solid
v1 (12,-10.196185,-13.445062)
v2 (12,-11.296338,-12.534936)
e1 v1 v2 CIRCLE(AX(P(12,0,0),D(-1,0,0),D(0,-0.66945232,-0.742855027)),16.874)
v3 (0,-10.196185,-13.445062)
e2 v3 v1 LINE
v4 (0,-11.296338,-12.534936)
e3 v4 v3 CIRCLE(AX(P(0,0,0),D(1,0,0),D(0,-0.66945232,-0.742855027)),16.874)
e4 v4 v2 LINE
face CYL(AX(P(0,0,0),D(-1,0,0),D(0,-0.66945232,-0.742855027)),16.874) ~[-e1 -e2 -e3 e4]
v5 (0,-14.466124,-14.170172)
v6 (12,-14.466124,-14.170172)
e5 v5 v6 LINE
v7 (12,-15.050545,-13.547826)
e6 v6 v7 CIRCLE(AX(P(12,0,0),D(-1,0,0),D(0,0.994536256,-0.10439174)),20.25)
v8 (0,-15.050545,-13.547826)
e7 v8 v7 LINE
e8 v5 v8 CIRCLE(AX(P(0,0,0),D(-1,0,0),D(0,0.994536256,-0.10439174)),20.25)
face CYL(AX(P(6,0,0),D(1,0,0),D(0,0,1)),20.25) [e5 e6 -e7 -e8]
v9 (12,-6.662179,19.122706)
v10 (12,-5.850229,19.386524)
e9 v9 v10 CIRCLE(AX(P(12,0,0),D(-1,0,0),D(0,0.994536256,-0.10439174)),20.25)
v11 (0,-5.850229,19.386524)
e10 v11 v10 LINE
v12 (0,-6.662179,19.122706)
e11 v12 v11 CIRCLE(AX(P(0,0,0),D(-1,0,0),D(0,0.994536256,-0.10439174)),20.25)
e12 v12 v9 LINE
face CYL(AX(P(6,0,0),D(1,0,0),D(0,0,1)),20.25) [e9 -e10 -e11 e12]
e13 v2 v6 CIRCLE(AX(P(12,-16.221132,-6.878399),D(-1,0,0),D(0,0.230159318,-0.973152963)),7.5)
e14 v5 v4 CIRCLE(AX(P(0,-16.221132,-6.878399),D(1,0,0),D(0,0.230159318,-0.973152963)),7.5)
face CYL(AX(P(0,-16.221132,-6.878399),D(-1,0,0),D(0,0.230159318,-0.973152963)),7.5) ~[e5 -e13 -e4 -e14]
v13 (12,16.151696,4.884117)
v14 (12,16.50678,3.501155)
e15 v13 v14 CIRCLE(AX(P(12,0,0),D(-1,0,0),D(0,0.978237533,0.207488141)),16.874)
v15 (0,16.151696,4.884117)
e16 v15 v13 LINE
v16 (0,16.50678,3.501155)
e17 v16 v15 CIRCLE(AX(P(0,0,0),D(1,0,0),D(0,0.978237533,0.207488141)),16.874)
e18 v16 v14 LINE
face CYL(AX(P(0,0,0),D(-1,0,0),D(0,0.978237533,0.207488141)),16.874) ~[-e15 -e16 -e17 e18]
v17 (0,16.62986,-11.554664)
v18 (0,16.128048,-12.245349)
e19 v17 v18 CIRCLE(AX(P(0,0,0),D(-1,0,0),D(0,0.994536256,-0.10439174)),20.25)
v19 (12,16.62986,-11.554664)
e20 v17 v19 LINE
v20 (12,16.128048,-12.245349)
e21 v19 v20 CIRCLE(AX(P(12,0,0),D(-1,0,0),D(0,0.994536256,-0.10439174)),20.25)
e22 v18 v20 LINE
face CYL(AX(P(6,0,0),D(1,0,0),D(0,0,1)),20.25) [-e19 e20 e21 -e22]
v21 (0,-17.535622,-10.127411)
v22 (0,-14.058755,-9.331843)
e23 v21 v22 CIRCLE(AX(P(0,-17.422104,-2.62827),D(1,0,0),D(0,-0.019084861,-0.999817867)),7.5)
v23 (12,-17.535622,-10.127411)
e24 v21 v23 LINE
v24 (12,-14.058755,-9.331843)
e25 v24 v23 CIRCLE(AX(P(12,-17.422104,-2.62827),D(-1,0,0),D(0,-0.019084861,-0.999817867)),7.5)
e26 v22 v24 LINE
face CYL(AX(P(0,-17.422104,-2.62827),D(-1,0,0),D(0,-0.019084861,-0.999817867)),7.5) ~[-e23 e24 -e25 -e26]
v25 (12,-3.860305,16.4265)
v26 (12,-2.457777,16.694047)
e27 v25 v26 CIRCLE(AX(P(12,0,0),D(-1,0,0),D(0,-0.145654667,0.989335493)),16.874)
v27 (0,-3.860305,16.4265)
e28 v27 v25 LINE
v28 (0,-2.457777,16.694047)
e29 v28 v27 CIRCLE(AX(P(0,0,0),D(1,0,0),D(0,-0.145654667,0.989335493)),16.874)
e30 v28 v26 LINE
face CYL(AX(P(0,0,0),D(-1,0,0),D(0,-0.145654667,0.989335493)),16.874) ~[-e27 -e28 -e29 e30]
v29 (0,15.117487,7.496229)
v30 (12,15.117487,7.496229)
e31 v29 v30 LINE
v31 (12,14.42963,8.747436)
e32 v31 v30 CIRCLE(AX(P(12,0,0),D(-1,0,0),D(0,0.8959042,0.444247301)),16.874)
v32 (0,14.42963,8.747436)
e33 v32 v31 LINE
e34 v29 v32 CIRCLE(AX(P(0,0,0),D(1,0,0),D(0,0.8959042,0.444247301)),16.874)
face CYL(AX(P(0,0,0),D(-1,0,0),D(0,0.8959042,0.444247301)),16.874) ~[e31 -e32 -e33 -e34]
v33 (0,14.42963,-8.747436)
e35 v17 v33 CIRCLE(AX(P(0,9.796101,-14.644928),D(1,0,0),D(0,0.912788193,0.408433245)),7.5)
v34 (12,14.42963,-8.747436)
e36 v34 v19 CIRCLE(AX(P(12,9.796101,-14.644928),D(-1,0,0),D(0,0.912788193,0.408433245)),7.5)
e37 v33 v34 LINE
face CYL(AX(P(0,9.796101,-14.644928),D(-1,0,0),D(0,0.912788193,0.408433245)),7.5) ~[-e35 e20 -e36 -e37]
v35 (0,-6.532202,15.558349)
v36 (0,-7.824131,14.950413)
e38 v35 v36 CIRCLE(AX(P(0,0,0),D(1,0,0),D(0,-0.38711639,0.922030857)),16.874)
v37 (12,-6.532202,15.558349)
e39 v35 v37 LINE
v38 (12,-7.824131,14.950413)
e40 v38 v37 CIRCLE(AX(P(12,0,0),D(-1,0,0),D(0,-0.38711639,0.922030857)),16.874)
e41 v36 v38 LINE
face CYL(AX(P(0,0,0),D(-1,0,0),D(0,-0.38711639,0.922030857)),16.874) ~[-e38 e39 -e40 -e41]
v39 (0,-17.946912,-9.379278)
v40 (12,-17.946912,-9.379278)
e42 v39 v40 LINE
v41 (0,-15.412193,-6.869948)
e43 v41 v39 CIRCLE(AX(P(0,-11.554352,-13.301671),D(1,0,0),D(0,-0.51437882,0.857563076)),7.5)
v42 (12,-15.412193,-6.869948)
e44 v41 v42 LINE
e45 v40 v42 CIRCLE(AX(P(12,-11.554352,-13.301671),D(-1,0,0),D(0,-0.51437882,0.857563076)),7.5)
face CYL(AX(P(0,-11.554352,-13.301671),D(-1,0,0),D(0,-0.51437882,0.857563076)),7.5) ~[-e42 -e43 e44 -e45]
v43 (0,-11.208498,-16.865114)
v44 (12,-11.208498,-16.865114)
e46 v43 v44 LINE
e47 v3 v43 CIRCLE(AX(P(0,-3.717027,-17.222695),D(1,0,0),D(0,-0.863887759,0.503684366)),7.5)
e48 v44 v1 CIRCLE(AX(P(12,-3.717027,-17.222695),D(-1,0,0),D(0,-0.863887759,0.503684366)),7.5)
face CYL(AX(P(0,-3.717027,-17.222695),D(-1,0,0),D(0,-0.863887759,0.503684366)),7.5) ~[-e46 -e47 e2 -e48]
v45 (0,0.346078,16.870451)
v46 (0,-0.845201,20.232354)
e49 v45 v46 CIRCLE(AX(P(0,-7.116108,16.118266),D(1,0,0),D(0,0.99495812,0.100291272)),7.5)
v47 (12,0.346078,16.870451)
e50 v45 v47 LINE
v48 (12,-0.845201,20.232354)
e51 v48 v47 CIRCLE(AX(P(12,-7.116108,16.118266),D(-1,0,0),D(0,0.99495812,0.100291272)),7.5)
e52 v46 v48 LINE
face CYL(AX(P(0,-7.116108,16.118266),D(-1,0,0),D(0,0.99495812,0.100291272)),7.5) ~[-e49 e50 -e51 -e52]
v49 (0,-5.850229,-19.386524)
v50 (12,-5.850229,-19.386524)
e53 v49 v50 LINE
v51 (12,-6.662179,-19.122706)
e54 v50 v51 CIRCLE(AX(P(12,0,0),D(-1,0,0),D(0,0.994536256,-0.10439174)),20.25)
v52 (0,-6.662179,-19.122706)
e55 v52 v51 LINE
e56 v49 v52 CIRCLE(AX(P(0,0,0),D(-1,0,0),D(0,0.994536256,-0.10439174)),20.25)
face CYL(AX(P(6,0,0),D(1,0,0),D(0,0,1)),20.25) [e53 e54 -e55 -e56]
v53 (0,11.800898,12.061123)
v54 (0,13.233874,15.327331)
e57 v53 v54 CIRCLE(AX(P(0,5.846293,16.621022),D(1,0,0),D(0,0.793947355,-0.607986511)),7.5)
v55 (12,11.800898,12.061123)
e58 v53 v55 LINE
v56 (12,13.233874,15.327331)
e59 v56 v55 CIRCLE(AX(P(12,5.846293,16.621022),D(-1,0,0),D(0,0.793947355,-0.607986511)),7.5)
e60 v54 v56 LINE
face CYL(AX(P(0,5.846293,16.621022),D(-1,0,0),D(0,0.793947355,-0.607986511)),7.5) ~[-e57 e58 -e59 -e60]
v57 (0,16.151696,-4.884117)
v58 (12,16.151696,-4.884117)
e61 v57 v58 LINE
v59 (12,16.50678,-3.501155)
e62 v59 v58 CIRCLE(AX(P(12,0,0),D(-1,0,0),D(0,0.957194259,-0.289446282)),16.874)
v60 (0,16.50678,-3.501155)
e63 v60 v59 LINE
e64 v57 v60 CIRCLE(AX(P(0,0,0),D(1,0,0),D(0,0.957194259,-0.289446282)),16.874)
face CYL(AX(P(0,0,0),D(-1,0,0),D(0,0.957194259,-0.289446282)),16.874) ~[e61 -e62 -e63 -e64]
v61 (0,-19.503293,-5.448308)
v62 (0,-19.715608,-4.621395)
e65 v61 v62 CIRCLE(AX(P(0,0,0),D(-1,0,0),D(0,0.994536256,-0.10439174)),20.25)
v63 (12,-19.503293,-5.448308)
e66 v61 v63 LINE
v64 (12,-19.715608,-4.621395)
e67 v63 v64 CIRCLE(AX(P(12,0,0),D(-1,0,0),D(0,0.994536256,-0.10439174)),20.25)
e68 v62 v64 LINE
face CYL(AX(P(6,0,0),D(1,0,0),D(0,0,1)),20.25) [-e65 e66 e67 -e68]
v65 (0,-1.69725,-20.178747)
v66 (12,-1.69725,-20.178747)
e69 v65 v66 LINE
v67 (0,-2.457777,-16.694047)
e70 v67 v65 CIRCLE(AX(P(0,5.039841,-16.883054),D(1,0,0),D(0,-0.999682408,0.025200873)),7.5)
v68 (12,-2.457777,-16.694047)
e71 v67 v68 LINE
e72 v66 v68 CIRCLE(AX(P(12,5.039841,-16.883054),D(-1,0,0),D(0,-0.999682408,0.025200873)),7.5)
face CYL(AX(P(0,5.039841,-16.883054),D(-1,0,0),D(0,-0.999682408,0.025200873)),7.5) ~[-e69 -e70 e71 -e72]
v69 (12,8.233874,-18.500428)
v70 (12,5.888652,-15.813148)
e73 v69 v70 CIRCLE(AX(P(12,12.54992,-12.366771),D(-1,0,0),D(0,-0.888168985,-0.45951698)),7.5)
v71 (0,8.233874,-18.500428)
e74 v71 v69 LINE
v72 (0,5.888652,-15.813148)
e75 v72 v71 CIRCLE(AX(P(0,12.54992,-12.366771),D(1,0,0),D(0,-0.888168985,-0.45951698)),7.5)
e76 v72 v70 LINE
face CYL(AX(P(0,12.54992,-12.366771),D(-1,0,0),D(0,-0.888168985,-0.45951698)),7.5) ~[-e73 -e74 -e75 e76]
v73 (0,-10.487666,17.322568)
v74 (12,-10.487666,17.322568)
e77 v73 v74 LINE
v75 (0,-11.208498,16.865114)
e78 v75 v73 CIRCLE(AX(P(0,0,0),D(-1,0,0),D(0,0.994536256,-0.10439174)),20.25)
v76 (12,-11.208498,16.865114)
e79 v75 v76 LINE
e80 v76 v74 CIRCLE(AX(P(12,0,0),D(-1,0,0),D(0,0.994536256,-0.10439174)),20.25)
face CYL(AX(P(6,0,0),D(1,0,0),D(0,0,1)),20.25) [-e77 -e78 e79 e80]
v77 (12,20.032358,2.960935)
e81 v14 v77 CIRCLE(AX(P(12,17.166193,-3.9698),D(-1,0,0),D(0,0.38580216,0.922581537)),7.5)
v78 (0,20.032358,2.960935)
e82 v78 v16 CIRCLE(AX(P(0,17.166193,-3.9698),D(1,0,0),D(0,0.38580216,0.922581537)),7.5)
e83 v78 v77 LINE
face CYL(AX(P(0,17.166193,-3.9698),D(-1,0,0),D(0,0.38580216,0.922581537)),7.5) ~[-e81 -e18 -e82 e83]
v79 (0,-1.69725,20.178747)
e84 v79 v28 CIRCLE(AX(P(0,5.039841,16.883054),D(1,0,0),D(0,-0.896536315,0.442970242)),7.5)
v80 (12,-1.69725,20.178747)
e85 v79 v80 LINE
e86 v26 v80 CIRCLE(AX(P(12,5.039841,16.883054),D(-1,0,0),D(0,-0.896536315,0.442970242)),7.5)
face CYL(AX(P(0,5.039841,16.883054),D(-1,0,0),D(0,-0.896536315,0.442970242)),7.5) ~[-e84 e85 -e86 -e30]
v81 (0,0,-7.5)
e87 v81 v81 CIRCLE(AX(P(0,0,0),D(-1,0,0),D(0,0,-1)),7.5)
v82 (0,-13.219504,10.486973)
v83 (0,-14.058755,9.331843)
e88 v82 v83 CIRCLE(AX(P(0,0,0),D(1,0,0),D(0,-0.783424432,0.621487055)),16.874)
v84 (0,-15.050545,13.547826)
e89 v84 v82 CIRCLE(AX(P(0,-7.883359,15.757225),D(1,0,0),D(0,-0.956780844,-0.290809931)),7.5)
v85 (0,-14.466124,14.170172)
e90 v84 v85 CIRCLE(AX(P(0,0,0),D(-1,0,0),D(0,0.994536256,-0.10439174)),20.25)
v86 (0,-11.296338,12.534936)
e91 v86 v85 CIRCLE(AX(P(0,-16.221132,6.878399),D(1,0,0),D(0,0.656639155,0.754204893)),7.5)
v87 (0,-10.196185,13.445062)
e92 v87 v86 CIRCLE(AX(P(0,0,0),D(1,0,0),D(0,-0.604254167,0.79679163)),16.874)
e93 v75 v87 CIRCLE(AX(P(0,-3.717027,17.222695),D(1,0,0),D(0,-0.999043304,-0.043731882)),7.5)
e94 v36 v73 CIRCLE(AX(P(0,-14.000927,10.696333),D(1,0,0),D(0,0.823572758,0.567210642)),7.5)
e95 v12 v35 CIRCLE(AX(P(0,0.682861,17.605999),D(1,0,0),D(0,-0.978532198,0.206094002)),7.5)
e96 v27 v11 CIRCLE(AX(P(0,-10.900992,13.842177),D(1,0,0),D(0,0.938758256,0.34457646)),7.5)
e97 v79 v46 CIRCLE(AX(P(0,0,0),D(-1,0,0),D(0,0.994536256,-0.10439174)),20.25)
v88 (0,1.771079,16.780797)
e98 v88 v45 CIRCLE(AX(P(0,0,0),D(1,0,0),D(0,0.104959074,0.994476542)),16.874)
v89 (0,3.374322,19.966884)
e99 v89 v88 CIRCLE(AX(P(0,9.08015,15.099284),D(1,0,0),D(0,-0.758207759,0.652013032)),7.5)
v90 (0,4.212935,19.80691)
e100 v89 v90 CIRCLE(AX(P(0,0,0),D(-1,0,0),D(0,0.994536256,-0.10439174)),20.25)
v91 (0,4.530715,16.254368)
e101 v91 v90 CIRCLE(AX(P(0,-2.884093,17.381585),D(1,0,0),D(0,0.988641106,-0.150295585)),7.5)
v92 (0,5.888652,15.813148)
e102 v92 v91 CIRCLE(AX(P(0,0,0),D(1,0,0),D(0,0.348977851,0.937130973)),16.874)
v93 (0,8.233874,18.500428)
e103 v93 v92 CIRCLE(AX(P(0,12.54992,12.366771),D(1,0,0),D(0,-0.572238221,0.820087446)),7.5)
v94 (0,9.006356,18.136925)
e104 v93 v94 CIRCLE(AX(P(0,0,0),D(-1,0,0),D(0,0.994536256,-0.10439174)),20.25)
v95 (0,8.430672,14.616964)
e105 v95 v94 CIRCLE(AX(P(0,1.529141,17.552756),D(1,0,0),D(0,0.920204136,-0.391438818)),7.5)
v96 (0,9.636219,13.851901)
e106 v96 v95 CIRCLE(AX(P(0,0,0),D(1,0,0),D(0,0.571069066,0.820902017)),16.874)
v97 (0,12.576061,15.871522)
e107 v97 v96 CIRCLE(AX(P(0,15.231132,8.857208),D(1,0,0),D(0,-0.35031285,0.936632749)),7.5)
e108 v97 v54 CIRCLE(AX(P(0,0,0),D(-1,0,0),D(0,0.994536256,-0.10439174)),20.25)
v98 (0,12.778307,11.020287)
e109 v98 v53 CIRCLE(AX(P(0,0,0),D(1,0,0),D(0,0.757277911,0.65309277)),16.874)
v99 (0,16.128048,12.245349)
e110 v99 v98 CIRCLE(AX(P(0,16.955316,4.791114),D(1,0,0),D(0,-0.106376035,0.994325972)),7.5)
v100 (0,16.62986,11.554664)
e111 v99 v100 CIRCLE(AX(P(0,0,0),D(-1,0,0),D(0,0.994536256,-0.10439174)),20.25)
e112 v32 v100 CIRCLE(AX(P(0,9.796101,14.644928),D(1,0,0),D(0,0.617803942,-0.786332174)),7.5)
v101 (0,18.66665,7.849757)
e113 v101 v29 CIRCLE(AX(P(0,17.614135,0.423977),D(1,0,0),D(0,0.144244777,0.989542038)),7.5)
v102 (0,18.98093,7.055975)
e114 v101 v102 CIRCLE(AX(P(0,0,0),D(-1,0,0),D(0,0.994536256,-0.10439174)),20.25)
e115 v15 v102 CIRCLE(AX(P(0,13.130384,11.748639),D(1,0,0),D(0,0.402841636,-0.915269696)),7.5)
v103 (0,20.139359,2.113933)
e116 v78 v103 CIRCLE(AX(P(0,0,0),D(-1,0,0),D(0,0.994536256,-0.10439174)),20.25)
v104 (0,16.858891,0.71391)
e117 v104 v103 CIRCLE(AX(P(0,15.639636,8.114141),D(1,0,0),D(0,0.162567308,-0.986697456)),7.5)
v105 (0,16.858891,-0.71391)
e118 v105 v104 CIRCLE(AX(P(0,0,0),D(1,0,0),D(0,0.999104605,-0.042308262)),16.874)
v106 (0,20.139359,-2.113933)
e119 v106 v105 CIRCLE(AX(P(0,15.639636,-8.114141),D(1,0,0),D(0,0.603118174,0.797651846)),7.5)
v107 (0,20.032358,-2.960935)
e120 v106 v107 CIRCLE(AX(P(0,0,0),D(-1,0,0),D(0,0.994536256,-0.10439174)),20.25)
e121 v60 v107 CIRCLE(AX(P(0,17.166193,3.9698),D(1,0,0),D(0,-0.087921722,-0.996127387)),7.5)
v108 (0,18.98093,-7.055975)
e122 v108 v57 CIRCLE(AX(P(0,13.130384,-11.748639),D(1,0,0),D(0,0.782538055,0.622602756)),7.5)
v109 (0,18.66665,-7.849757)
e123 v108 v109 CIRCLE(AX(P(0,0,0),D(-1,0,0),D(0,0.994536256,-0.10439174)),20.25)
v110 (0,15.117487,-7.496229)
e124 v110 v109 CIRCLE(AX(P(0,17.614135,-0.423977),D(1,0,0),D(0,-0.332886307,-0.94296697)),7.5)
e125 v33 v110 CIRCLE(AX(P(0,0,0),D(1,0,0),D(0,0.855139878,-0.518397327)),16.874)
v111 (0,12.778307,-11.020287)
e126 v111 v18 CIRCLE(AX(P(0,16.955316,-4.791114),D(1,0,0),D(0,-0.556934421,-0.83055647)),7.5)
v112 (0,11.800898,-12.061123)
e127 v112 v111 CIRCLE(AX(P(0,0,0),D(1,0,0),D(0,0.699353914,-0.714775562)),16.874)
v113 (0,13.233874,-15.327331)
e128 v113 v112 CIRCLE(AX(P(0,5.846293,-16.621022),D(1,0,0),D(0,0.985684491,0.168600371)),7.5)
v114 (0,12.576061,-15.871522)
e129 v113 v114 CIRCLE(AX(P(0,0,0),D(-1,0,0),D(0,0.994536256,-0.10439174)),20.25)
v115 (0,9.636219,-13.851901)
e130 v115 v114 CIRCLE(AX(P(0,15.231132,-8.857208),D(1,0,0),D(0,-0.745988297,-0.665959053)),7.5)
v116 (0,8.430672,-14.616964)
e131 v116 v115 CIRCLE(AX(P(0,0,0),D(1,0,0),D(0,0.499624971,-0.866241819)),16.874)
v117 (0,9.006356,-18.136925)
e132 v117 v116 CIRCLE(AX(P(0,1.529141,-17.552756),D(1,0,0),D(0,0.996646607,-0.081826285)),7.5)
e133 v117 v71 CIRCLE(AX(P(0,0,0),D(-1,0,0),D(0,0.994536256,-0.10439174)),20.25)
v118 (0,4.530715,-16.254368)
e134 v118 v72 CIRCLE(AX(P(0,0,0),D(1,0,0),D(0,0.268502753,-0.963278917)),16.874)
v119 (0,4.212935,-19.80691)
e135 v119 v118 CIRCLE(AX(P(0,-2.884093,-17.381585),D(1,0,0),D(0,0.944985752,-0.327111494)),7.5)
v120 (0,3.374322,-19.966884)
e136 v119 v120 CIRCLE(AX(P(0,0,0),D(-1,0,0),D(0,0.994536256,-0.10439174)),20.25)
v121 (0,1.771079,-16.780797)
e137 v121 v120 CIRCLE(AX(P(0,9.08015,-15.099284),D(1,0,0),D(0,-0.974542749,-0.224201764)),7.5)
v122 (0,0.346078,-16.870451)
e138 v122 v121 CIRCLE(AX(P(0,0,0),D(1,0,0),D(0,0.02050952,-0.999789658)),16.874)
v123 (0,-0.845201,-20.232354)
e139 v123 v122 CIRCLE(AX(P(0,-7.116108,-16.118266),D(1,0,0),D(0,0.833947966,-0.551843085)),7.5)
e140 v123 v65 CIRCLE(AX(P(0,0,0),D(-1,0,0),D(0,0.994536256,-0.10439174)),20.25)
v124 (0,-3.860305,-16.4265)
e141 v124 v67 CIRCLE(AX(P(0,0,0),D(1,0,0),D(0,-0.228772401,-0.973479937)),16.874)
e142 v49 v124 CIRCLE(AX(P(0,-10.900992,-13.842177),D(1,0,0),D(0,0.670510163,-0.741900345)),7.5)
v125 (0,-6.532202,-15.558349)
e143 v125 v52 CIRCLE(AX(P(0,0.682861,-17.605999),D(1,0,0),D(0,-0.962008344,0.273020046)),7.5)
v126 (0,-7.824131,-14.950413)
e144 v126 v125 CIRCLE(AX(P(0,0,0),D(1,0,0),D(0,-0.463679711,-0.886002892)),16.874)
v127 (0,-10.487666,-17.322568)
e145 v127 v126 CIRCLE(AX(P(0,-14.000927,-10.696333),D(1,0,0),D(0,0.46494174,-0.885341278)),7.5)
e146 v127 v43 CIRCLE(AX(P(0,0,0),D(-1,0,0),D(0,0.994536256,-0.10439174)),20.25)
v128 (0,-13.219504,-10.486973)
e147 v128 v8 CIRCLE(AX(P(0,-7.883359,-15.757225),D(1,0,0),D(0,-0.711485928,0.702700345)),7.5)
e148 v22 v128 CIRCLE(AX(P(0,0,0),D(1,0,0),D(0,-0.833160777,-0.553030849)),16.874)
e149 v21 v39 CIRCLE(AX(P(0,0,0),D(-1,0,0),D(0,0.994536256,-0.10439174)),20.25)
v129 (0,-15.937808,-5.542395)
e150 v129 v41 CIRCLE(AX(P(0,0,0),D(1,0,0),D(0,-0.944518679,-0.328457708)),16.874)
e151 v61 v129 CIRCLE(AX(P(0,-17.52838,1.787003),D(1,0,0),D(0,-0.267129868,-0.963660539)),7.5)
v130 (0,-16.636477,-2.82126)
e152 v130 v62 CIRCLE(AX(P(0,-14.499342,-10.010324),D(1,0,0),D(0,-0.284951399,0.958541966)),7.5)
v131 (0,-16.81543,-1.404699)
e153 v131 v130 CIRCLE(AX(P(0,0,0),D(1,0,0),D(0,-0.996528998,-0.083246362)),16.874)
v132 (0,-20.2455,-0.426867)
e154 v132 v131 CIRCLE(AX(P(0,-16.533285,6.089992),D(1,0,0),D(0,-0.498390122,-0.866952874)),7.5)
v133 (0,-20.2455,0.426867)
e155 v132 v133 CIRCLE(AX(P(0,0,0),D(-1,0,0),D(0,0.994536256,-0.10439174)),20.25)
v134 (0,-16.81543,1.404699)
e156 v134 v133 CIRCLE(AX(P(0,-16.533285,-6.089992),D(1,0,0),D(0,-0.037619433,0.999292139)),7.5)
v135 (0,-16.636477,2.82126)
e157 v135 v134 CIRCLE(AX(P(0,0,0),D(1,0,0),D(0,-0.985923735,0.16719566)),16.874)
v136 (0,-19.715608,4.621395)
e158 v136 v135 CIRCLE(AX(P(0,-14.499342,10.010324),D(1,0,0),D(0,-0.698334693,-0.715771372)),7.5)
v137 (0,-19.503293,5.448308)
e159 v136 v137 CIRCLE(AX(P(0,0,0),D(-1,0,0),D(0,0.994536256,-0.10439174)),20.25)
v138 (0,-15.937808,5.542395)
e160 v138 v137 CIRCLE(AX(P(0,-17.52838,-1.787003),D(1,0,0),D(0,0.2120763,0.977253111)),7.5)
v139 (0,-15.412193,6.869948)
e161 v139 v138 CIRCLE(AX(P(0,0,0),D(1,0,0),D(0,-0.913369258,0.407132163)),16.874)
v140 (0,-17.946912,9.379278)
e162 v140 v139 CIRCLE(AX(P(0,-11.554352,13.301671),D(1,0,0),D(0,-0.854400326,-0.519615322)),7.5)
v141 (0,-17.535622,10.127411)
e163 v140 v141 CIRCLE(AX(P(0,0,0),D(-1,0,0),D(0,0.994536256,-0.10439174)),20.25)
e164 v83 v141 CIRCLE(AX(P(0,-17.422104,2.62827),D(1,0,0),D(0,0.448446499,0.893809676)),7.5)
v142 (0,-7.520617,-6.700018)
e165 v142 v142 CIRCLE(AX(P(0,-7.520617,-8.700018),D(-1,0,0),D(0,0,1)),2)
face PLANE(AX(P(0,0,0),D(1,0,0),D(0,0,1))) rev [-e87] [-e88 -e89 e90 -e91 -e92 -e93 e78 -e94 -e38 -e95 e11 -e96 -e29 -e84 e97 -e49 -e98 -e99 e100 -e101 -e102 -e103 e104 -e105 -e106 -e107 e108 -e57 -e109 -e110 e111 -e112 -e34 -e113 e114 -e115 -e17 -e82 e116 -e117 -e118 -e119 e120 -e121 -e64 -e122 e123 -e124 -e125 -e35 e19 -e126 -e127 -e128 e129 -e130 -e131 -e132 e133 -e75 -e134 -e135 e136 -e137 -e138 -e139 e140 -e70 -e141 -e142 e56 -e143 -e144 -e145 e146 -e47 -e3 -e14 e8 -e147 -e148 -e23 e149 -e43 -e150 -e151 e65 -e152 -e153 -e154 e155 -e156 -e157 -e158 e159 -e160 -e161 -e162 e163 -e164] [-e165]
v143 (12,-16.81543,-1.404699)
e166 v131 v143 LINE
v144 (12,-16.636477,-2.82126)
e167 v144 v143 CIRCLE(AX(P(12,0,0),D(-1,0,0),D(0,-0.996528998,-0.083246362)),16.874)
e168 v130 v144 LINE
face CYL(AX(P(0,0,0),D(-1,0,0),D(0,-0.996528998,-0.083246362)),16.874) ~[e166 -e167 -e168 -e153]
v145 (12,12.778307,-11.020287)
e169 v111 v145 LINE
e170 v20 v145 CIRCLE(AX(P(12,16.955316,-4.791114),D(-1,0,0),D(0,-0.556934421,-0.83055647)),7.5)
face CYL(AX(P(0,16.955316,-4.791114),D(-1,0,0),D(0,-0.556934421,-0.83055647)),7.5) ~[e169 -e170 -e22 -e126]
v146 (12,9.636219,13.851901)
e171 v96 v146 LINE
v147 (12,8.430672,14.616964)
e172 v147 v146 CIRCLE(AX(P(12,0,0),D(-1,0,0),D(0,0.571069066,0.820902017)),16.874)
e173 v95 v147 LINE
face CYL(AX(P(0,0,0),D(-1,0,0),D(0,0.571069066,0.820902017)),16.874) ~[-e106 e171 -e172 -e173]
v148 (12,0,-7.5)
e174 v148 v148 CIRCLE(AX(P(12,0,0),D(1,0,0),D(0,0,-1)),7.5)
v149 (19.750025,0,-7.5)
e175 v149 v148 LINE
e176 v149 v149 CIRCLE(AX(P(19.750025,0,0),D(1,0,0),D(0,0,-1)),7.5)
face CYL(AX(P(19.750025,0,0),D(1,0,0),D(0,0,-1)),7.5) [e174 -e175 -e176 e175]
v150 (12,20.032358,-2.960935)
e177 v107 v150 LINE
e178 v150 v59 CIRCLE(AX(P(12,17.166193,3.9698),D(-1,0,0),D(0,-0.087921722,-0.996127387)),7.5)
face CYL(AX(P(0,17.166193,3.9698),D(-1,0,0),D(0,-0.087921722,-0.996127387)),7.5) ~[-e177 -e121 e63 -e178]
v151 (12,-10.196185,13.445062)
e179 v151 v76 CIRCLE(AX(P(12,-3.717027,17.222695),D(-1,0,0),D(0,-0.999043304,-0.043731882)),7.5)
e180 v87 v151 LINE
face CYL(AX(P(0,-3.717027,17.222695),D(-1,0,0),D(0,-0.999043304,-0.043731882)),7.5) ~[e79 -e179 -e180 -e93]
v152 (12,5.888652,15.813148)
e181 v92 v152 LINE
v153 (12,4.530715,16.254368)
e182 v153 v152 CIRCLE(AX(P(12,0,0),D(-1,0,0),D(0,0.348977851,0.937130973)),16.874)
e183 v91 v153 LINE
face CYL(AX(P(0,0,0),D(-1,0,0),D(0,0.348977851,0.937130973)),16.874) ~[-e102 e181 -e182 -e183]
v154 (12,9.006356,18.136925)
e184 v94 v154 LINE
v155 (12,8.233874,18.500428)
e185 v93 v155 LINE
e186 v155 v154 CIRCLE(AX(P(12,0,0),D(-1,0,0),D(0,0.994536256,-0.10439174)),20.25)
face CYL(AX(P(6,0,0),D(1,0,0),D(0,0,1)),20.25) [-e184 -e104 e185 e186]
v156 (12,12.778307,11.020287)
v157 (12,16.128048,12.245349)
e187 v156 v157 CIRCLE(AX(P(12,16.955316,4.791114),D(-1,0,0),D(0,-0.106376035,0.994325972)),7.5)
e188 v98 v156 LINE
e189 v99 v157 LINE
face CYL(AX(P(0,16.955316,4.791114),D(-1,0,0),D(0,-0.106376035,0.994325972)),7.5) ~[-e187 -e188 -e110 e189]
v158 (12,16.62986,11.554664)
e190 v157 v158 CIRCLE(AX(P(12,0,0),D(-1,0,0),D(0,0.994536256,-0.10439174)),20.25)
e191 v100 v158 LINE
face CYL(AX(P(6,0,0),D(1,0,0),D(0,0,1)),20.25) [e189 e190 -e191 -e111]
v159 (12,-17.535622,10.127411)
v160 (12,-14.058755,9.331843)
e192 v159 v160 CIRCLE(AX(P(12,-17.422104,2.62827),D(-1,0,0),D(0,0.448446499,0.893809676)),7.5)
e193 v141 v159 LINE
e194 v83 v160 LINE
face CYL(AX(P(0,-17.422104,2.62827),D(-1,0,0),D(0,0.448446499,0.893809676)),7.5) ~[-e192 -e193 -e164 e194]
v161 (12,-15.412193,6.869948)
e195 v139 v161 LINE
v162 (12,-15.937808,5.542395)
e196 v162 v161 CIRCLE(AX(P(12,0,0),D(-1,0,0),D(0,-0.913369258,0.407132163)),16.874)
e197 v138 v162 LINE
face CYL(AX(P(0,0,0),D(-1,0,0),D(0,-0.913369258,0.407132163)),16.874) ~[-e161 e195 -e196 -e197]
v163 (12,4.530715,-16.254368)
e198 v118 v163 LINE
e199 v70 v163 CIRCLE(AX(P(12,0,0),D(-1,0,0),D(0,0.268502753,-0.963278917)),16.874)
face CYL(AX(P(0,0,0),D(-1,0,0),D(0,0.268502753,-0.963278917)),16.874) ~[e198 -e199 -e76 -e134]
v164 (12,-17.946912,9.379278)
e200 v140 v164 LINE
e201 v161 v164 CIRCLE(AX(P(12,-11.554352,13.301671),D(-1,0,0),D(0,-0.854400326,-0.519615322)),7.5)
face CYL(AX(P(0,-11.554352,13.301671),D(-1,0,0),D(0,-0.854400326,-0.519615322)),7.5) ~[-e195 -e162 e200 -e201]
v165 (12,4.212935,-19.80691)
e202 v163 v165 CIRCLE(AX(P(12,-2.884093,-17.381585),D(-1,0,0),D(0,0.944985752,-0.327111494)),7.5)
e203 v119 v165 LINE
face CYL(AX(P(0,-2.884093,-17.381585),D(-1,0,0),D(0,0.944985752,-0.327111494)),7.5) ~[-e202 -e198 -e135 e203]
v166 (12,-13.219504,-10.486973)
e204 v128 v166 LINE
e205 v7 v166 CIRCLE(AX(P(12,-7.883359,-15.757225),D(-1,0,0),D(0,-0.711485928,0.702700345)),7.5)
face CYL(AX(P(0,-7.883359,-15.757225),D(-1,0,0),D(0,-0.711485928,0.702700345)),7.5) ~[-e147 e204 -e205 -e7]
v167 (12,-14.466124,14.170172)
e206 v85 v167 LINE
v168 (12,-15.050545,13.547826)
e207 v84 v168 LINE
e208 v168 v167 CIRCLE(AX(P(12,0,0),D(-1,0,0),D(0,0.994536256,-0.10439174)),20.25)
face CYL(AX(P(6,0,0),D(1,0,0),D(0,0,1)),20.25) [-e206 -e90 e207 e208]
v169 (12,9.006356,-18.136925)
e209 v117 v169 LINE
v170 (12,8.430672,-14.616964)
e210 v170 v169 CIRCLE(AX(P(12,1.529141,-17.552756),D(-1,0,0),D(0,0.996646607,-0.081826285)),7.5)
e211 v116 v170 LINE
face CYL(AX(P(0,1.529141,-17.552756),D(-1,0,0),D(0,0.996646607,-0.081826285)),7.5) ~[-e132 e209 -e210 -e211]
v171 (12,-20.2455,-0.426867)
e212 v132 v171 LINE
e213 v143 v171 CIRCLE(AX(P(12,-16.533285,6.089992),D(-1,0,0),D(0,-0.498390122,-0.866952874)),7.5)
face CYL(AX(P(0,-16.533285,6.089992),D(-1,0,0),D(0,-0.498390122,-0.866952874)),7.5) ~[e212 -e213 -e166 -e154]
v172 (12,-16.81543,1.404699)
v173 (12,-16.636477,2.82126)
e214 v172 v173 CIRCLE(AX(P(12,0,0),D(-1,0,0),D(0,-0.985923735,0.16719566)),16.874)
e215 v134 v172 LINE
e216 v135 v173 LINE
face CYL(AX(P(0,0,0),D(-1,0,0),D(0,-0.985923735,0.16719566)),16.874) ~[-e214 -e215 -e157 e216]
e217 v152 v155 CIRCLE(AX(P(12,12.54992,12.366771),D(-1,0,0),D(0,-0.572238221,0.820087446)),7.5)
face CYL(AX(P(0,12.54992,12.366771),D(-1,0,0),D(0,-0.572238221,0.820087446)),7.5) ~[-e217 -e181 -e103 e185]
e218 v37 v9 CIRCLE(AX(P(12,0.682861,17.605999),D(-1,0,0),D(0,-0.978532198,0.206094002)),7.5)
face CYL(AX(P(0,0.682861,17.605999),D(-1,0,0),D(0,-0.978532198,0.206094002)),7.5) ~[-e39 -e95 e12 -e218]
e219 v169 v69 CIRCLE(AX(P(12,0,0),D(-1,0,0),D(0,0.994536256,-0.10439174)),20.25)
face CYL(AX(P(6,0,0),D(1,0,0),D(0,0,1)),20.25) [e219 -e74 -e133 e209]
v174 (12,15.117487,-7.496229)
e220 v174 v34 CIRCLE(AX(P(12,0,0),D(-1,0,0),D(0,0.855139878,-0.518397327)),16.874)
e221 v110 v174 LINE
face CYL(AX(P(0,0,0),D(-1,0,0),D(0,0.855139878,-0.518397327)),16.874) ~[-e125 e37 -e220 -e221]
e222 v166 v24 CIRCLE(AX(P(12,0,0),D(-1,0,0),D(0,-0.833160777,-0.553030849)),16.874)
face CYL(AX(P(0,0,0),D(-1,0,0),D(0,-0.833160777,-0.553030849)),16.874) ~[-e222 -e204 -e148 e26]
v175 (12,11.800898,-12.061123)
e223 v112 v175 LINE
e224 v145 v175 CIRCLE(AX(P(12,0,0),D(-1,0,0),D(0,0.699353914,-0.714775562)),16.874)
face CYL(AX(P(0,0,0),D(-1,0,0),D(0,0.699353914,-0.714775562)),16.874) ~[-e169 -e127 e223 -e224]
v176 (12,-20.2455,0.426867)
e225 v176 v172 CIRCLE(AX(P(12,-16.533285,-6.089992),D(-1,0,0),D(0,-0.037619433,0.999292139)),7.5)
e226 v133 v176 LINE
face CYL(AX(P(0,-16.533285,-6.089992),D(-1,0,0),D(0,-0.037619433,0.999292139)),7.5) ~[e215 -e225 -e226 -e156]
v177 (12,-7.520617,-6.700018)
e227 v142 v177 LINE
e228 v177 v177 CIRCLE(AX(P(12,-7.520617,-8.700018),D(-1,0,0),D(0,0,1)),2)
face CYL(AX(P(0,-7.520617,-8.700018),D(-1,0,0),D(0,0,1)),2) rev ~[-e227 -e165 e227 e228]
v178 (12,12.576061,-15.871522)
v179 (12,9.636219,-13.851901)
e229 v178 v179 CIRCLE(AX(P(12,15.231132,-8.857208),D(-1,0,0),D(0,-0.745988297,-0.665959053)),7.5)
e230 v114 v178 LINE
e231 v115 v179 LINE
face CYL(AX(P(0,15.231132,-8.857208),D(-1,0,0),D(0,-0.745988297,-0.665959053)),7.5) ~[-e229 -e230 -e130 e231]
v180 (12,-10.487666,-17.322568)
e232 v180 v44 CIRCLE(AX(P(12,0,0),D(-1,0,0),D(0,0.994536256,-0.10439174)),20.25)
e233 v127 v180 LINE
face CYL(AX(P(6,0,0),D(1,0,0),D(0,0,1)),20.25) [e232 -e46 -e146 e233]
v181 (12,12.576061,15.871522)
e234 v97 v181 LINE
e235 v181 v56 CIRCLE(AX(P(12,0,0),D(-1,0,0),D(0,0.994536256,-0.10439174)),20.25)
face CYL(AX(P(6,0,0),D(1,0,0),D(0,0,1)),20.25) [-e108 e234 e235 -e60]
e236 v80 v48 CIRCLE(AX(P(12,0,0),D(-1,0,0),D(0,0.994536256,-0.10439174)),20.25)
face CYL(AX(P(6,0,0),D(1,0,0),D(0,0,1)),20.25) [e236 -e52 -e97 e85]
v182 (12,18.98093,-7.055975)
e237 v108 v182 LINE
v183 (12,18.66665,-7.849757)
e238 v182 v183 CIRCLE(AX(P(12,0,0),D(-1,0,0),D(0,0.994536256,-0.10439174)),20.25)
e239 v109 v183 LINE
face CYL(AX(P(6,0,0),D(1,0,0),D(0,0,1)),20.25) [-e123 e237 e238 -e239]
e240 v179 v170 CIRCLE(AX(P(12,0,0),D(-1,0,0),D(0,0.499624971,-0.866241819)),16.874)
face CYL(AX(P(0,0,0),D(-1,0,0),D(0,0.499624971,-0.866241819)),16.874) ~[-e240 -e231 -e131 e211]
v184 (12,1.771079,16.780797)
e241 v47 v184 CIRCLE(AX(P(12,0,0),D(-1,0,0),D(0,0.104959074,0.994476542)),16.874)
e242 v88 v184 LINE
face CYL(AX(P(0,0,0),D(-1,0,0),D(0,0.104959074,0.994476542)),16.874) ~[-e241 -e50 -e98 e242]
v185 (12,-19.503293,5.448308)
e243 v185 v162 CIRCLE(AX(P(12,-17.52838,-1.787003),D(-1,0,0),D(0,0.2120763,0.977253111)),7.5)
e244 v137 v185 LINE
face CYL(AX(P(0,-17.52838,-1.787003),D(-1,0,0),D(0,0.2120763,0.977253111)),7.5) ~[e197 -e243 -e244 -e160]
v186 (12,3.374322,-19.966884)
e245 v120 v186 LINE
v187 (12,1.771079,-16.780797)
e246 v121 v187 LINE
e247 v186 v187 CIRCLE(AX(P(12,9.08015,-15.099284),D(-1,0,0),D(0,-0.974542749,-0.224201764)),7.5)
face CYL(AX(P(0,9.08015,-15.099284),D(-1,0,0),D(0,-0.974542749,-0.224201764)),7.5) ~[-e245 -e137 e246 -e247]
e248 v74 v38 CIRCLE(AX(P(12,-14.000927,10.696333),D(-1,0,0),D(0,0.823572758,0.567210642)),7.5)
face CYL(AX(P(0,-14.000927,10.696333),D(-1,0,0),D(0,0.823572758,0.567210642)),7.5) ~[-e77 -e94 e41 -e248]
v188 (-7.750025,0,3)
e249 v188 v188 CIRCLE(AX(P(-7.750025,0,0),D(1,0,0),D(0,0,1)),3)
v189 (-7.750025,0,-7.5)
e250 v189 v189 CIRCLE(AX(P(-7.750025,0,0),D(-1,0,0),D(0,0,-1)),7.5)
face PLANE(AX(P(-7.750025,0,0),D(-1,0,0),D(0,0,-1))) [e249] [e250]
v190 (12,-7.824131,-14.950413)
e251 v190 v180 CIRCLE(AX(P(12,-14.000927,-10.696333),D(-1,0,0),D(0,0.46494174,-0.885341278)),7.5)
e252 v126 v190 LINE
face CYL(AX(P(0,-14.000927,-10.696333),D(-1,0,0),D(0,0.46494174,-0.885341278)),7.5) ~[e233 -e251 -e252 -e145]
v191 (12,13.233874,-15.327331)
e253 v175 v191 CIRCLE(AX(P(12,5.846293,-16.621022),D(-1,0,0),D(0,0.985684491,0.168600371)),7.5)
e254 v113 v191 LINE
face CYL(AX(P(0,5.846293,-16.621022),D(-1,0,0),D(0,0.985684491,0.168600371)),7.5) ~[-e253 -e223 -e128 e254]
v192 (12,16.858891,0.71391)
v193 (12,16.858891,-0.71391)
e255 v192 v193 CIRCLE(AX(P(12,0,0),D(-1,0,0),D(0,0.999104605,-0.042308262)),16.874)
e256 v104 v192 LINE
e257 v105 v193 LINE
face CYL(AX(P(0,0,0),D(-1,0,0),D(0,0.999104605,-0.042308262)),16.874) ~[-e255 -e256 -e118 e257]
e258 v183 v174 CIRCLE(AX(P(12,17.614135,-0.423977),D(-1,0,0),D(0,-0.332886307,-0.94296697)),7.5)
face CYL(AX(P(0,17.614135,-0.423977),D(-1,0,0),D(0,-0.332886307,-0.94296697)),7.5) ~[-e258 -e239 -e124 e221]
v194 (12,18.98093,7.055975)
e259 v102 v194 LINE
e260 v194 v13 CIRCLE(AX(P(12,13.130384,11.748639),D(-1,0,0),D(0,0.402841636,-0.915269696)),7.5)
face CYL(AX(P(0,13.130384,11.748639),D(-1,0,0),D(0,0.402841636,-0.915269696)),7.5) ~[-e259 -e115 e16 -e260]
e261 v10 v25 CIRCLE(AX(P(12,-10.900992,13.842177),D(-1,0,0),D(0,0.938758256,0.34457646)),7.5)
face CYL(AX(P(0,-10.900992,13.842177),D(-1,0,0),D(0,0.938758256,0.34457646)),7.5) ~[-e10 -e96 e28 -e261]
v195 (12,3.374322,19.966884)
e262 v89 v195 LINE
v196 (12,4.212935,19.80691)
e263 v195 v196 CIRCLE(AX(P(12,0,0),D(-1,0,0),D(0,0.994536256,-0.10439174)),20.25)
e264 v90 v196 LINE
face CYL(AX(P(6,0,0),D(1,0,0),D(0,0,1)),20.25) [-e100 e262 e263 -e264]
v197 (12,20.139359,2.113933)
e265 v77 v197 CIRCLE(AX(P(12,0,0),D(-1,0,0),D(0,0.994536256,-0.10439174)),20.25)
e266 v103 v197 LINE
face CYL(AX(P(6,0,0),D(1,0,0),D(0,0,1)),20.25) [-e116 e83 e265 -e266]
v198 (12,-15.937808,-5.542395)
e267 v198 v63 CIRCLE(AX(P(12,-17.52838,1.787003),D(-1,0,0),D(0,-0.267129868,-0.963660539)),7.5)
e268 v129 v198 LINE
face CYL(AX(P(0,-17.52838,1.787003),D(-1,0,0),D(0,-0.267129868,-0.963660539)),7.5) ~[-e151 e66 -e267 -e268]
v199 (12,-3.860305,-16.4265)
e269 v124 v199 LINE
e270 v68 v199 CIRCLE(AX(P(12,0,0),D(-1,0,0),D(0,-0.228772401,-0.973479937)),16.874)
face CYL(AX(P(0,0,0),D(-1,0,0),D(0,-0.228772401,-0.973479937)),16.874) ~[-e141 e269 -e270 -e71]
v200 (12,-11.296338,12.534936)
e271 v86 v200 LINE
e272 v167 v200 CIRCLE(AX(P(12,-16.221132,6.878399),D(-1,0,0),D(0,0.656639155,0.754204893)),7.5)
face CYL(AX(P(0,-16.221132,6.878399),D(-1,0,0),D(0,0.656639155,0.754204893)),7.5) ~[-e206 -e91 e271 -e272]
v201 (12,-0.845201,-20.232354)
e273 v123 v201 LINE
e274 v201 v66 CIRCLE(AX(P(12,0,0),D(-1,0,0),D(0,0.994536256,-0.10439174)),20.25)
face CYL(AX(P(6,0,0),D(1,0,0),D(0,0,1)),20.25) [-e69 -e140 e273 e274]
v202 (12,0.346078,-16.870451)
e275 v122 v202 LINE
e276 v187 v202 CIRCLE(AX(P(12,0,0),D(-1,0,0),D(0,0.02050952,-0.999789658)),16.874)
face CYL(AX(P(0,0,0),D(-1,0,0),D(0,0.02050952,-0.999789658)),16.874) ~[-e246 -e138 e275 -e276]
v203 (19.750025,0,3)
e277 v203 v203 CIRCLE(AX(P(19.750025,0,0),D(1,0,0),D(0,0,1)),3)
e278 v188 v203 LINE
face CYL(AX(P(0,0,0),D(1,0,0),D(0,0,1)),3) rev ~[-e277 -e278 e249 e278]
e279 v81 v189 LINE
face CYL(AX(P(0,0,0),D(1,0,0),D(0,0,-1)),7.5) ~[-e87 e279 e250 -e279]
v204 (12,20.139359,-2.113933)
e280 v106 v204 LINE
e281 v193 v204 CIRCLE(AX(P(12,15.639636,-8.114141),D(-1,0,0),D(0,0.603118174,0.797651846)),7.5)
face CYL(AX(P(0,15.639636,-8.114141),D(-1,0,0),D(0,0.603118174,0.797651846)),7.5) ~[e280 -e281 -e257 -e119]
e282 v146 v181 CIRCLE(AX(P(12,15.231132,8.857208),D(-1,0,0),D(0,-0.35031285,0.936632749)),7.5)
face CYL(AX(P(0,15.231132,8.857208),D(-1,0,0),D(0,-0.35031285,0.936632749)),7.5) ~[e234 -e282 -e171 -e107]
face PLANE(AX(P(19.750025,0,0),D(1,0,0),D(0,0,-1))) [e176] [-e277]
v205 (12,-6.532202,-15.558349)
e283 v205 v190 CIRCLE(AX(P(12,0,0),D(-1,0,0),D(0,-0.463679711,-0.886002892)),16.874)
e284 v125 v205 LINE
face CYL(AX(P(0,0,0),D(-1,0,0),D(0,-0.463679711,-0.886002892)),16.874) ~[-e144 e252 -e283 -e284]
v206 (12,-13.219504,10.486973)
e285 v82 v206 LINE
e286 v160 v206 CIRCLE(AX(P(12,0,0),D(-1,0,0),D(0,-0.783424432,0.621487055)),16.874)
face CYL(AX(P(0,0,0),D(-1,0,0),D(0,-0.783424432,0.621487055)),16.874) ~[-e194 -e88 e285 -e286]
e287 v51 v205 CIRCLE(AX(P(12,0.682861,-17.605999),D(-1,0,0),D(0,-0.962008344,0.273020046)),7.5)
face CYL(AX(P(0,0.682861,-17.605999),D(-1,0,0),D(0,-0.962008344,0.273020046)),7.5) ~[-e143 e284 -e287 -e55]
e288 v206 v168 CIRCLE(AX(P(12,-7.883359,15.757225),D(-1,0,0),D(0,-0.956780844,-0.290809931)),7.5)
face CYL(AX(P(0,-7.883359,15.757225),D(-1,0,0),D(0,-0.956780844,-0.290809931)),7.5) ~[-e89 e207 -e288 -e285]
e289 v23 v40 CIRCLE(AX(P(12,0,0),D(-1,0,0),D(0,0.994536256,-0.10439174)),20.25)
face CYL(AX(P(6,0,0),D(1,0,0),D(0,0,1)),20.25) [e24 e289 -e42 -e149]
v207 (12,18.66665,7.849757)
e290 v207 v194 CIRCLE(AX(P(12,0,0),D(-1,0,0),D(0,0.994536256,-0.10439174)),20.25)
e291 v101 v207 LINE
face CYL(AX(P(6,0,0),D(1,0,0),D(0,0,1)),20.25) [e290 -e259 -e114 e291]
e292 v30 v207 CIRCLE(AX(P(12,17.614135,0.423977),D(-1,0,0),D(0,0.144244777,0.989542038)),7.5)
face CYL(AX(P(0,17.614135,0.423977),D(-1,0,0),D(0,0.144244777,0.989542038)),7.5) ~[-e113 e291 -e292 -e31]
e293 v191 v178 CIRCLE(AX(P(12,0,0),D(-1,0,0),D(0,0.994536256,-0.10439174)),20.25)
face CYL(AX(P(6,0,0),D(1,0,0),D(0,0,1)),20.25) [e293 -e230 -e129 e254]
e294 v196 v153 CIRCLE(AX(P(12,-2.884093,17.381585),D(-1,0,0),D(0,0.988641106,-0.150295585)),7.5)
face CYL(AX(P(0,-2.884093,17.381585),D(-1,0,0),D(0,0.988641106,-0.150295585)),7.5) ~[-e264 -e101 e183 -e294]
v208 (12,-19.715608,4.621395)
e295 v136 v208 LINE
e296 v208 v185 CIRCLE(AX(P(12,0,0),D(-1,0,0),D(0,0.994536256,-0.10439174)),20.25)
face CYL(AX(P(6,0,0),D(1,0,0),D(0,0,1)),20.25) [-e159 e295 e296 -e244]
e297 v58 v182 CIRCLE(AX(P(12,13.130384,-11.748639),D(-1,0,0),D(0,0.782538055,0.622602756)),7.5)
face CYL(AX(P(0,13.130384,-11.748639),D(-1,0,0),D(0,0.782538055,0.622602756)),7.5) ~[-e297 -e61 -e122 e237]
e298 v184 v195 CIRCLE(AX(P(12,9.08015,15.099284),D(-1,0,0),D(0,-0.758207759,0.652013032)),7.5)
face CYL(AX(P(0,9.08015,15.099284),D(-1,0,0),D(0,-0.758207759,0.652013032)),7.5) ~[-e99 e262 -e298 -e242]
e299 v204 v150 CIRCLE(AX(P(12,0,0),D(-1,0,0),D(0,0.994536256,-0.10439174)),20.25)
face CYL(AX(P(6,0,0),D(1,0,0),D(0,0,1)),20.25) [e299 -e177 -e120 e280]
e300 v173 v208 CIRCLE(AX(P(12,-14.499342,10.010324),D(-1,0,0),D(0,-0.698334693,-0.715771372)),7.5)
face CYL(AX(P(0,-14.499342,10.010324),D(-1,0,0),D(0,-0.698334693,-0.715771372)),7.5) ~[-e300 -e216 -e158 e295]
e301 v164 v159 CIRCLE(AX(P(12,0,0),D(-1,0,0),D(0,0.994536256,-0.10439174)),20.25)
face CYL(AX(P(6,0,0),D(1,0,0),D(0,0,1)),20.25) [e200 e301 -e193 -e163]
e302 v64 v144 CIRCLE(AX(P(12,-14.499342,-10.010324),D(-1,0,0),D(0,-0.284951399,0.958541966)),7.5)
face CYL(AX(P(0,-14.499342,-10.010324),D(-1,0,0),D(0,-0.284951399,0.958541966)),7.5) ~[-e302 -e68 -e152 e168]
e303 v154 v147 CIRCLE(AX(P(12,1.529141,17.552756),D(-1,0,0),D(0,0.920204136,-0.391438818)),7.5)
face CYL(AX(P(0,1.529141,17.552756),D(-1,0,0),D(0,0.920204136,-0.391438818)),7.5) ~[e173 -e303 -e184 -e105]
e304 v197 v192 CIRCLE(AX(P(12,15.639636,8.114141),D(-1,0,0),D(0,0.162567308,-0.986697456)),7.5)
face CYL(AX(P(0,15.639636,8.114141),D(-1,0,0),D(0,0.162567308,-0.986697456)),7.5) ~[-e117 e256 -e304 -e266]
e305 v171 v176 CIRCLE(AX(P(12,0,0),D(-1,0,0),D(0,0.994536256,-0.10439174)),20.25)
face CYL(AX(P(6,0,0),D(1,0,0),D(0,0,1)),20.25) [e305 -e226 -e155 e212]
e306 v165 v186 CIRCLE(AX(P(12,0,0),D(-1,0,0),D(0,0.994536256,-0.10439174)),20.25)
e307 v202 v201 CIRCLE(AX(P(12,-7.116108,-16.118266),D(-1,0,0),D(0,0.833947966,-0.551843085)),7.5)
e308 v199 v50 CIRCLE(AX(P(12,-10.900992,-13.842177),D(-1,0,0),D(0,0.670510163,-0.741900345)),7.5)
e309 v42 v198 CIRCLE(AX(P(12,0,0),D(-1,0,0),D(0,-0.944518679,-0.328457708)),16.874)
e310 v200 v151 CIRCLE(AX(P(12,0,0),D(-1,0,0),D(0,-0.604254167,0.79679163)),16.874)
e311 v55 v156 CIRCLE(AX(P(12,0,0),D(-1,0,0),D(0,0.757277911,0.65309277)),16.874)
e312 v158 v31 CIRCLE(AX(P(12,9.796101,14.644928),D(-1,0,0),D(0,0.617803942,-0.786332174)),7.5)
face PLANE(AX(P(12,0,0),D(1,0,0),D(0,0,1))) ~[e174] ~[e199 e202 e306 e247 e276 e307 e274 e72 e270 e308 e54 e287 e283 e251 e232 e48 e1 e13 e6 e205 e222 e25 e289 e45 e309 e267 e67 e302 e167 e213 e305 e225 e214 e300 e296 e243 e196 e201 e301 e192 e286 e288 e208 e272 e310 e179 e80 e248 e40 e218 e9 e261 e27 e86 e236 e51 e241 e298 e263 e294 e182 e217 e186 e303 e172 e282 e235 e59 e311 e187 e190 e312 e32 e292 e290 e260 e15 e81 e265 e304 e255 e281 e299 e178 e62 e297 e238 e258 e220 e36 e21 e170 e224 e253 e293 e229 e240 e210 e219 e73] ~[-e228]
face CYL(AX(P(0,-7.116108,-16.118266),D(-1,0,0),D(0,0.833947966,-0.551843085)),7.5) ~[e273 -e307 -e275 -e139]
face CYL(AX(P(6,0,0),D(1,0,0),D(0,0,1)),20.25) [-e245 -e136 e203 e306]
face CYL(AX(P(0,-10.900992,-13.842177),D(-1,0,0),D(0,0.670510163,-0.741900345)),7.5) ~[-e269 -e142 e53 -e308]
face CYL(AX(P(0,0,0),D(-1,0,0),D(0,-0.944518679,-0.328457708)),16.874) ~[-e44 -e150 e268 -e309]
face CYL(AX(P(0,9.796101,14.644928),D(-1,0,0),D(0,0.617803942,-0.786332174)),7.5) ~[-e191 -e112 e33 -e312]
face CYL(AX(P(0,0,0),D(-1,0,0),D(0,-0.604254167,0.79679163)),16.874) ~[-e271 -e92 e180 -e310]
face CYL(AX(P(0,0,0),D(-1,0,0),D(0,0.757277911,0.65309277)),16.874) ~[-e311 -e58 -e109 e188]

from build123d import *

# Parameters (mm, degrees)
BASPROSKE_W        = 12
BASPROSKE_H        = 20.25
TOOTHCUT_DEPTH     = 32.050362317
TEETHCUTS_COUNT    = 25
TEETHCUTS_ANGLE    = 345.6
HUBNEABOTSKE_R     = 7.5
HUBNEARBOTH_DEPTH  = 7.7500254
HUBFAR_START       = 7.7500254
HUBFARSKE_R        = 7.5
HUBFAR_DEPTH       = 7.7500254
BORSKE_R           = 3
BORE_DEPTH         = 27.5000508
SKETCH1_R          = 2
CUT_EXTRUDE1_DEPTH = 15


with BuildPart() as part:
    # BasProSke → Base-Revolve (revolve)
    with BuildSketch(Plane(origin=(0, 0, 0), x_dir=(1, 0, 0), z_dir=(0, 1, 0)), mode=Mode.PRIVATE) as base_revolve_sk:
        with Locations((6, 10.125)):
            Rectangle(BASPROSKE_W, BASPROSKE_H)
    revolve(base_revolve_sk.sketch.rotate(Axis((-10, 0, 0), (1, 0, 0)), 180), axis=Axis((-10, 0, 0), (1, 0, 0)))

    # TooCutSke → ToothCut (cut, through all)
    with BuildSketch(Plane(origin=(0, 0, 0), x_dir=(0, 0, -1), z_dir=(1, 0, 0))):
        with BuildLine():
            ThreePointArc((0.713909619, 16.858891098), (0, 16.874), (-0.713909619, 16.858891098))
            ThreePointArc((-0.713909619, 16.858891098), (-1.221902209, 18.597177626), (-2.131751691, 20.163022588))
            ThreePointArc((-2.131751691, 20.163022588), (0, 20.2754), (2.131751691, 20.163022588))
            ThreePointArc((2.131751691, 20.163022588), (1.221902209, 18.597177626), (0.713909619, 16.858891098))
        make_face()
    toothcut = extrude(amount=TOOTHCUT_DEPTH, mode=Mode.SUBTRACT)

    # TeethCuts: ToothCut ×25 about axis
    teethcuts_axis = Axis((-10, 0, 0), (1, 0, 0))
    for i in range(1, TEETHCUTS_COUNT):
        add(toothcut.rotate(teethcuts_axis, i * TEETHCUTS_ANGLE / (TEETHCUTS_COUNT - 1)), mode=Mode.SUBTRACT)

    # HubNeaBotSke → HubNearBoth (add)
    with BuildSketch(Plane.ZY):
        with Locations(Location((0, 0, 0), (0, 0, 180))):
            Circle(HUBNEABOTSKE_R)
    extrude(amount=HUBNEARBOTH_DEPTH)

    # HubFarSke → HubFar (add)
    with BuildSketch(Plane(origin=(12, 0, 0), x_dir=(0, 0, -1), z_dir=(1, 0, 0)).offset(HUBFAR_START)):
        Circle(HUBFARSKE_R)
    extrude(amount=-HUBFAR_DEPTH)

    # BorSke → Bore (cut, symmetric)
    with BuildSketch(Plane(origin=(0, 0, 0), x_dir=(0, 0, -1), z_dir=(1, 0, 0))):
        with Locations(Location((0, 0, 0), (0, 0, 180))):
            Circle(BORSKE_R)
    extrude(amount=BORE_DEPTH, both=True, mode=Mode.SUBTRACT)

    # Sketch1 → Cut-Extrude1 (cut)
    with BuildSketch(Plane.ZY):
        with Locations((-8.700018149, -7.520617276)):
            Circle(SKETCH1_R)
    extrude(amount=-CUT_EXTRUDE1_DEPTH, mode=Mode.SUBTRACT)


solid = part.part
